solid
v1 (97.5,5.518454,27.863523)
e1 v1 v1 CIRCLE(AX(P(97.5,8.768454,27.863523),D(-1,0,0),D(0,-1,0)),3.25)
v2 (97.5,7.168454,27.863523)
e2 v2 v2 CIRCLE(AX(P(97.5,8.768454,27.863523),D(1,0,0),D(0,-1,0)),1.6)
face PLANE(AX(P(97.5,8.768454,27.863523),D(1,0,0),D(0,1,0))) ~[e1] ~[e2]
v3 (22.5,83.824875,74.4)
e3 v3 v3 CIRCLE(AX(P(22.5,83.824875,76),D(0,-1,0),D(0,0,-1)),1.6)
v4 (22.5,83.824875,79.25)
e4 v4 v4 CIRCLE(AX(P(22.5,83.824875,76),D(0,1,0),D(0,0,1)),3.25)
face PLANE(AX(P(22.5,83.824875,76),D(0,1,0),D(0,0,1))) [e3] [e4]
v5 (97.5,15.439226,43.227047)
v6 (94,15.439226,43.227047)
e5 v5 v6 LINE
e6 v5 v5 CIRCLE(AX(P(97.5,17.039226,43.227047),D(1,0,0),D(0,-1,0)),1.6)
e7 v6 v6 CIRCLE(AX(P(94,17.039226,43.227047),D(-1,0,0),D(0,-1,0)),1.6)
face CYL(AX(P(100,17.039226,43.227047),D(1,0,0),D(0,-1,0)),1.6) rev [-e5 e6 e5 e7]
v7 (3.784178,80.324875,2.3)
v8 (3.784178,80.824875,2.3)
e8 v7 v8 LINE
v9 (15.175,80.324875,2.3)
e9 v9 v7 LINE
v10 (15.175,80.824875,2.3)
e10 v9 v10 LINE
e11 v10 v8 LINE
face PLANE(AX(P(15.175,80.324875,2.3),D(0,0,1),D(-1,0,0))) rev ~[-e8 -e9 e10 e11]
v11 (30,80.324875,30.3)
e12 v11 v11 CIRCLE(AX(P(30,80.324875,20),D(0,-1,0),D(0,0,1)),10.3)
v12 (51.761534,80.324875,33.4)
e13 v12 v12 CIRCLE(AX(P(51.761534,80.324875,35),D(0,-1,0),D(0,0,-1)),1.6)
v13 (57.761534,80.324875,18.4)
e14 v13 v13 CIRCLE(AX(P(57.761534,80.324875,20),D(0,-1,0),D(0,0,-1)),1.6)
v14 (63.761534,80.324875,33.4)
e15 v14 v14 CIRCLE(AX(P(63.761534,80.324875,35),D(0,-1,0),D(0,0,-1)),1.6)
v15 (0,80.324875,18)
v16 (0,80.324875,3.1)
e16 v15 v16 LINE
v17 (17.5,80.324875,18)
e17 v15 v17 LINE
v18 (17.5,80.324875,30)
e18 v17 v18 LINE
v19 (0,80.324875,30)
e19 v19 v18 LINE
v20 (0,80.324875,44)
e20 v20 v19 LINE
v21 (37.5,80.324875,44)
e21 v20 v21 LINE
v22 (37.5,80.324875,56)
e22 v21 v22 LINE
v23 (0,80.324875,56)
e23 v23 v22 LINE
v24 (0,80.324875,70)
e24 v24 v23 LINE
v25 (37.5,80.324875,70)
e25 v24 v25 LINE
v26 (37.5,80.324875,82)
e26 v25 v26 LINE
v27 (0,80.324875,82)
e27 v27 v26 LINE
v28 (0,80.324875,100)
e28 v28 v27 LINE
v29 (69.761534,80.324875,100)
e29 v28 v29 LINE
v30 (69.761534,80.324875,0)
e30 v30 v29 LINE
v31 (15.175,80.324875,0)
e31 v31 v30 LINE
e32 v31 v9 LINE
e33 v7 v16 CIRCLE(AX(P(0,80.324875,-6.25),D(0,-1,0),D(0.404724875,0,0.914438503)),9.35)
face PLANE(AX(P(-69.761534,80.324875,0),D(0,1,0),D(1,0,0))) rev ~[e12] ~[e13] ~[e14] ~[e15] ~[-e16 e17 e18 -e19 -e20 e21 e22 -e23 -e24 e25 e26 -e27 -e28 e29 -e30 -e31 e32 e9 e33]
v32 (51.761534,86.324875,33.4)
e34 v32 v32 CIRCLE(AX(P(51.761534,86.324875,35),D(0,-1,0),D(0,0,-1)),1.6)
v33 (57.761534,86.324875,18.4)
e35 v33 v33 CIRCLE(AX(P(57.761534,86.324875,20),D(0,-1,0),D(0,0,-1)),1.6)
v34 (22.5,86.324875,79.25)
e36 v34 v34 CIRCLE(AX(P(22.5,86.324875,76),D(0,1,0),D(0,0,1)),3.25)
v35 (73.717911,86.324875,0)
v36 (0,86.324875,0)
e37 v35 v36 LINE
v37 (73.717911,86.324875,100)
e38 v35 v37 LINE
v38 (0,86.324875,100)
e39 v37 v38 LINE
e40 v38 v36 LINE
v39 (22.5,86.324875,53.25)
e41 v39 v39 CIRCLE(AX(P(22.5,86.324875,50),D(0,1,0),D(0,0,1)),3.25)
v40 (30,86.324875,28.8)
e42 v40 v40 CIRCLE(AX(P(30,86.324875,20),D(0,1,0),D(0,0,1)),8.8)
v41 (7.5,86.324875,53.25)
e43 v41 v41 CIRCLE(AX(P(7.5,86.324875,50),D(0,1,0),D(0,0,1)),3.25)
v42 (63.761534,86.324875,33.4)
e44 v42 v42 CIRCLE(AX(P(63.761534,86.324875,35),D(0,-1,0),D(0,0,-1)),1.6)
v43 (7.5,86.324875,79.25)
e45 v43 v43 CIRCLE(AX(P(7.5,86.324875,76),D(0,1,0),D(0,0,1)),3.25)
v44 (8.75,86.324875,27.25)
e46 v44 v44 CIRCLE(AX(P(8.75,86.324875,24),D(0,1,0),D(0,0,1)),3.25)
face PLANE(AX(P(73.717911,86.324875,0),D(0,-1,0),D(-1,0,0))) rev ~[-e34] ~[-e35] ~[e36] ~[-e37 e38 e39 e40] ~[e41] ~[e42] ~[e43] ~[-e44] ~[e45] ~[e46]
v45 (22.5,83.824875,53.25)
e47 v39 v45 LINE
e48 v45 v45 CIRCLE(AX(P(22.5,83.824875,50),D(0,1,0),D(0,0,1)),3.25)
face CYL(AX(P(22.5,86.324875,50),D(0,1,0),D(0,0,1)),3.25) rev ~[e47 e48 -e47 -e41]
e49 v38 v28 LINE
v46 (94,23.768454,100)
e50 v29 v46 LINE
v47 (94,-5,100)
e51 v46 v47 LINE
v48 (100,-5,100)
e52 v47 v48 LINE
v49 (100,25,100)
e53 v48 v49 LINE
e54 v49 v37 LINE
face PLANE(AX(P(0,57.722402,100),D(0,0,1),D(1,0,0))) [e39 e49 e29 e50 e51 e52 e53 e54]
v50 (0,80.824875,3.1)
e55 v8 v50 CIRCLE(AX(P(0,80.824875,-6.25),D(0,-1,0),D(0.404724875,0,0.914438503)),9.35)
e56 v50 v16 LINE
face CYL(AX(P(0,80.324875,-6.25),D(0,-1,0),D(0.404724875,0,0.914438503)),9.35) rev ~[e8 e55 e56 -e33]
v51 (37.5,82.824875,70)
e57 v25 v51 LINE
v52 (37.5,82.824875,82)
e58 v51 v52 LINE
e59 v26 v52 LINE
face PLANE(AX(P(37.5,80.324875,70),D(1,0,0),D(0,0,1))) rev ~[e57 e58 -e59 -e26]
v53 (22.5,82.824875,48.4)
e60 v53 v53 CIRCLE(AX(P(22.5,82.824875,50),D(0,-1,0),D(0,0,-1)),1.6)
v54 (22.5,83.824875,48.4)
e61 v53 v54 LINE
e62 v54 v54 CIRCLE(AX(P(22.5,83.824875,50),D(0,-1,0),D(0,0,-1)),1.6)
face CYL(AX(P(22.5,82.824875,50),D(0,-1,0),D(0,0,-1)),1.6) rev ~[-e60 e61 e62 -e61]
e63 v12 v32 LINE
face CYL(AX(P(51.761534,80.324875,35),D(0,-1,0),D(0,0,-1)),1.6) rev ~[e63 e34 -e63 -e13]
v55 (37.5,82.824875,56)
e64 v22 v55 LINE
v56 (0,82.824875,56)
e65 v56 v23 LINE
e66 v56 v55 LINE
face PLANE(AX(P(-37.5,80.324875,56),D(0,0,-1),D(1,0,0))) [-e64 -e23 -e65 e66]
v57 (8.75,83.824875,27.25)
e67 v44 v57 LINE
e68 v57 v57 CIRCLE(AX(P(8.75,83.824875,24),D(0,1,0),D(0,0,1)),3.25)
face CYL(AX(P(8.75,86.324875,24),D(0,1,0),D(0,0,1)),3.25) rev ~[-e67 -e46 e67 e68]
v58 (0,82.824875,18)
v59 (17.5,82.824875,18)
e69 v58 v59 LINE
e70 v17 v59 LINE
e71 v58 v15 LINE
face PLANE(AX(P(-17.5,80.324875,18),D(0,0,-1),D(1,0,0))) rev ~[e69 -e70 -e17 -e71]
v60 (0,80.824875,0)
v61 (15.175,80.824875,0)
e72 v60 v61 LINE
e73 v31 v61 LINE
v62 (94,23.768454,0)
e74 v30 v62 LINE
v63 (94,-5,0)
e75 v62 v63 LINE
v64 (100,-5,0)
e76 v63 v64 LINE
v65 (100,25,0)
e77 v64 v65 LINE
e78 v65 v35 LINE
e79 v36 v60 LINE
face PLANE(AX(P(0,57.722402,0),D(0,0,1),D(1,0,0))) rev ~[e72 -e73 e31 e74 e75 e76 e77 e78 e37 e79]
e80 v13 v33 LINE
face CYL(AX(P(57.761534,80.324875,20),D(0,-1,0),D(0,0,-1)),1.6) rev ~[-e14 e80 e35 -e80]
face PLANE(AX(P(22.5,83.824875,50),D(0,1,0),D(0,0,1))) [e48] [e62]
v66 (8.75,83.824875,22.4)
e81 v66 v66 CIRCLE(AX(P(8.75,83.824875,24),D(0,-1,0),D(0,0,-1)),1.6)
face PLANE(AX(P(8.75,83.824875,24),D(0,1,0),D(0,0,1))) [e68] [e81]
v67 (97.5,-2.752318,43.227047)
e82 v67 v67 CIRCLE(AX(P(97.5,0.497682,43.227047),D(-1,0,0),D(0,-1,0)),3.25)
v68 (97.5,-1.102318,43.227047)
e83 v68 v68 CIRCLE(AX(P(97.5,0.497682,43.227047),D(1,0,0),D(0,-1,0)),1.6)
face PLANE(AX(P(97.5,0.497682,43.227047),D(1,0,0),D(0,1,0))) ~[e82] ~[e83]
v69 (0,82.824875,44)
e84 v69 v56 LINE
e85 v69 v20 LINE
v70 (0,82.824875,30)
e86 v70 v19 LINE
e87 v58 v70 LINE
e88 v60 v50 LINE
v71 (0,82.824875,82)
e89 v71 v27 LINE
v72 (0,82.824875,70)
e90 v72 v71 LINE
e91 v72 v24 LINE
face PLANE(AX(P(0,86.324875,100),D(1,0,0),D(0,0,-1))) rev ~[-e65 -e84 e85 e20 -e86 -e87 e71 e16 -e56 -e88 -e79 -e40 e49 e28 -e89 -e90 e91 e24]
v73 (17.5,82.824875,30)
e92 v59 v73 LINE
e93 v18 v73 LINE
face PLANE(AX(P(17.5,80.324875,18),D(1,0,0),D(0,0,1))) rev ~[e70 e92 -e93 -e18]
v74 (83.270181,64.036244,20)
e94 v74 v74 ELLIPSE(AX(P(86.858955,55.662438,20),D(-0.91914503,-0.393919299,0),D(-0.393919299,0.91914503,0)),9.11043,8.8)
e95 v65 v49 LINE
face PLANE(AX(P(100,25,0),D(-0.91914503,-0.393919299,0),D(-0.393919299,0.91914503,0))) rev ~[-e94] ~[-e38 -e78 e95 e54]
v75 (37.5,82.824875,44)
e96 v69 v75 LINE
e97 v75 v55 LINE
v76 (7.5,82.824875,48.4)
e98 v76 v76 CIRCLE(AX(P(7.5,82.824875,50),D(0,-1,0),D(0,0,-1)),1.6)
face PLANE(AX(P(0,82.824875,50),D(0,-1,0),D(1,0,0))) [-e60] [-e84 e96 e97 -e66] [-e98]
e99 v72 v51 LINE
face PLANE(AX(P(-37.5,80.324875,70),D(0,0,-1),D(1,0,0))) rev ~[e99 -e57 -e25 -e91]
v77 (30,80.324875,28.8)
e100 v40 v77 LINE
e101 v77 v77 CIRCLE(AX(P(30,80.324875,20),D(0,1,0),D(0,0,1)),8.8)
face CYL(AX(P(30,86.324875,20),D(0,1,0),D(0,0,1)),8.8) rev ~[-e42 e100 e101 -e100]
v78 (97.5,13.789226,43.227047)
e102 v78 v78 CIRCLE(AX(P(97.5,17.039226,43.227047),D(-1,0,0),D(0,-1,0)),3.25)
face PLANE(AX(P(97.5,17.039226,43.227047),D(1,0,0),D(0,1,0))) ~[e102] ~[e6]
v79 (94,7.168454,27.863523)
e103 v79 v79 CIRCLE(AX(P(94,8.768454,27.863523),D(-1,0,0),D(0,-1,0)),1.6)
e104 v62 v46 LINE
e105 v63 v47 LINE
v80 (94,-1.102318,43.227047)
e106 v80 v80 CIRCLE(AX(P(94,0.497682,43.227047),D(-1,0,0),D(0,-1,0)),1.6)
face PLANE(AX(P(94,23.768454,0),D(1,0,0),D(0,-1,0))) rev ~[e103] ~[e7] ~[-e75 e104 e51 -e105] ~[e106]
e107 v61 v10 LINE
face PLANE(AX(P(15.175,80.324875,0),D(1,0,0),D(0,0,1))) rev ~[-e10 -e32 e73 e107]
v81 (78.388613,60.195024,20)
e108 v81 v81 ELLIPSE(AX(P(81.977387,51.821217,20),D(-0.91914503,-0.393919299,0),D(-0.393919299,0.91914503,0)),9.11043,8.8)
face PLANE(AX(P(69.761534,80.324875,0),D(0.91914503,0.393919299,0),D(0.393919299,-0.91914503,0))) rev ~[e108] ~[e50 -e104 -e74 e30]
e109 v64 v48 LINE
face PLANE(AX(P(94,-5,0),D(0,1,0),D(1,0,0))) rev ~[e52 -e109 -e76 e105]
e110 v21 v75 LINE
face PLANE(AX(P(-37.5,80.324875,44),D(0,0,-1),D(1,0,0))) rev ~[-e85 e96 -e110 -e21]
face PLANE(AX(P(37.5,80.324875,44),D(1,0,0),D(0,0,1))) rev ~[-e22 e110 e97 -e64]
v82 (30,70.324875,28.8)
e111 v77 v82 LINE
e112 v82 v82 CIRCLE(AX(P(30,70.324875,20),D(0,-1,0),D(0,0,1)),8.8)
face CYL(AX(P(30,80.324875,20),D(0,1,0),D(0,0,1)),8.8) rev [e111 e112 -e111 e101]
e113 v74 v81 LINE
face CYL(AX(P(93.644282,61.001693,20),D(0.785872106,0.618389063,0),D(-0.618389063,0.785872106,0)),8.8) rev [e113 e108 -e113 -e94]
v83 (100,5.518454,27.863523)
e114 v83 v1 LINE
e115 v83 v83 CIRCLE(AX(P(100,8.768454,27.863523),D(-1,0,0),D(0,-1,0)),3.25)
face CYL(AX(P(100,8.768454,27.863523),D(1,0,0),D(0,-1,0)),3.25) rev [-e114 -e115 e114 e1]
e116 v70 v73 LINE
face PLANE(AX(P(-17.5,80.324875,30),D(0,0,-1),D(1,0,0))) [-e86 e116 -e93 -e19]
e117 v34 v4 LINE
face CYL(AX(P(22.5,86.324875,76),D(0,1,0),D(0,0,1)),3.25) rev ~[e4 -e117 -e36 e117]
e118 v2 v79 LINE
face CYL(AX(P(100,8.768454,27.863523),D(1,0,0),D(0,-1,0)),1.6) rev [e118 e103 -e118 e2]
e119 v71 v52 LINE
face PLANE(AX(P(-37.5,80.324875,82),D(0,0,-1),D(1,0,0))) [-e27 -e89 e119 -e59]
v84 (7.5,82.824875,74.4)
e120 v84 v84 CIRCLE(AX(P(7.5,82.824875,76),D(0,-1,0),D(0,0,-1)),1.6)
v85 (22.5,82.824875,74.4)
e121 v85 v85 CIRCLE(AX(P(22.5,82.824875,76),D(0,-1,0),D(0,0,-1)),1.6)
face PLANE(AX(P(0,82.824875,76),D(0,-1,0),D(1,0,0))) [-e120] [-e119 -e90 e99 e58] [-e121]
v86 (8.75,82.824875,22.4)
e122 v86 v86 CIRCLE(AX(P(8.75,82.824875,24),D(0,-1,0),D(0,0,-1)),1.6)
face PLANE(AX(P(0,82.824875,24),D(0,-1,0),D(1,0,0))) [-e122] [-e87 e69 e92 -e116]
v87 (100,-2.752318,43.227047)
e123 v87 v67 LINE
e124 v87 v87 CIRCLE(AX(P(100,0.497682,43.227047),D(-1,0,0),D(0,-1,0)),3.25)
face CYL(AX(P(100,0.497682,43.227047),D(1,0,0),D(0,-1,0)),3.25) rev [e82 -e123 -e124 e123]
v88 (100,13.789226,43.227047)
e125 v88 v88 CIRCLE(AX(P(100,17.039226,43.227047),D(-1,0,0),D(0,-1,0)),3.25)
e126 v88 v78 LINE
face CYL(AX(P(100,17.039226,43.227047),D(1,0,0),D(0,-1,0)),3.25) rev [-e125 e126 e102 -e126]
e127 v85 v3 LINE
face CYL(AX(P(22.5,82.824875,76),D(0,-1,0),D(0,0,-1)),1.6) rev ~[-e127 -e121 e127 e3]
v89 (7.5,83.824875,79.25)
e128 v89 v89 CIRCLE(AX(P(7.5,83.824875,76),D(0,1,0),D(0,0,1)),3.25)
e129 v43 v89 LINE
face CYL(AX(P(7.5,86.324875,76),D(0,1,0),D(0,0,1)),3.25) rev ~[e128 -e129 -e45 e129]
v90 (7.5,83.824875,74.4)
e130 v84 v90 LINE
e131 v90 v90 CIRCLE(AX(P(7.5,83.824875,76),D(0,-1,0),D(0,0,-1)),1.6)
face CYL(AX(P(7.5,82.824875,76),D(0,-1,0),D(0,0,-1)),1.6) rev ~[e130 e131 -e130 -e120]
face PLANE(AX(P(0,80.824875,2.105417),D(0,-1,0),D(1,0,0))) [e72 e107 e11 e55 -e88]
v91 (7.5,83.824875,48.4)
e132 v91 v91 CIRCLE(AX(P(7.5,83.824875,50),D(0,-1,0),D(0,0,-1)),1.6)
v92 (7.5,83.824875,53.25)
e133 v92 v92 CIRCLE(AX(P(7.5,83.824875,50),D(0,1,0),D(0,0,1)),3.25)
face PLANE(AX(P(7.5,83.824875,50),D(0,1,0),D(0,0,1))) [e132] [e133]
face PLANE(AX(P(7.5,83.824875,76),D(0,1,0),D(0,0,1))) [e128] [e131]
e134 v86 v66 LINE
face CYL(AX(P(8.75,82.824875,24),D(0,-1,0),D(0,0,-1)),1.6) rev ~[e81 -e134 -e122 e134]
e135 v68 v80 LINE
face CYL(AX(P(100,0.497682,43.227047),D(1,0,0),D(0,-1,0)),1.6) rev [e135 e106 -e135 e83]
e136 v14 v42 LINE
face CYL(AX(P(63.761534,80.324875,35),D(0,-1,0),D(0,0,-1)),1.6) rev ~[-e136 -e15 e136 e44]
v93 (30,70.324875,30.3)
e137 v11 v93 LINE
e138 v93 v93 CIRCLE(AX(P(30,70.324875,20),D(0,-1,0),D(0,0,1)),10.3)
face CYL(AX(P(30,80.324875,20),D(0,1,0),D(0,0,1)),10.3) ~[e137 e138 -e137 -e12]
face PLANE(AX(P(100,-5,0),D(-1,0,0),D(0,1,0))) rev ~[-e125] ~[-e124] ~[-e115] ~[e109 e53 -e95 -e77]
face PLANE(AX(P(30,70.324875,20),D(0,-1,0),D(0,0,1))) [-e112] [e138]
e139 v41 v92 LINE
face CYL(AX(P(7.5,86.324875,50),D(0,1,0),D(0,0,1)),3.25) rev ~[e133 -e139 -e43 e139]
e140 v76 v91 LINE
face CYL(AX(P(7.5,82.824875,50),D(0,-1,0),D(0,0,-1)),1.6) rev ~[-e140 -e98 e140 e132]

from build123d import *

# Parameters (mm, degrees)
SALIENTE_EXTRUIR1_DEPTH = 100
CORTAR_EXTRUIR1_REACH   = 170.346
CROQUIS3_R              = 8.8
CORTAR_EXTRUIR2_REACH   = 226.945
CROQUIS4_R              = 8.8
CORTAR_EXTRUIR3_DEPTH   = 0.5
CORTAR_EXTRUIR4_REACH   = 241.691
CROQUIS6_R              = 1.6
CROQUIS7_R              = 3.25
CORTAR_EXTRUIR5_DEPTH   = 2.5
CROQUIS8_W              = 75
CROQUIS8_H              = 12
CROQUIS8_W_2            = 35
CORTAR_EXTRUIR6_DEPTH   = 2.5
CORTAR_EXTRUIR7_REACH   = 168.473
CROQUIS9_R              = 1.6
CROQUIS10_R             = 3.25
CORTAR_EXTRUIR8_DEPTH   = 2.5
CROQUIS11_R             = 10.3
CROQUIS11_R_2           = 8.8
SALIENTE_EXTRUIR2_DEPTH = 10
SALIENTE_EXTRUIR3_REACH = 201.802
CROQUIS12_R             = 10.3
CROQUIS12_R_2           = 8.8
CORTAR_EXTRUIR9_REACH   = 167.168
CROQUIS13_R             = 1.6
CROQUIS14_W             = 100
CROQUIS14_H             = 100
CORTAR_EXTRUIR10_DEPTH  = 169.345575526


with BuildPart() as part:
    # Croquis1 → Saliente-Extruir1 (new body)
    with BuildSketch(Plane.XY):
        Polygon((-100, 25), (-100, -5), (-94, -5), (-94, 23.768453788), (-69.761533754, 80.324875029), (69.761533754, 80.324875029), (94, 23.768453788), (94, -5), (100, -5), (100, 25), (73.717910702, 86.324875029), (-73.717910702, 86.324875029), align=None)
    extrude(amount=SALIENTE_EXTRUIR1_DEPTH)

    # Croquis3 → Cortar-Extruir1 (cut, up to next)
    with BuildSketch(Plane(origin=(0, 86.324875029, 0), x_dir=(1, 0, 0), z_dir=(0, 1, 0)), mode=Mode.PRIVATE) as cortar_extruir1_sk1:
        with Locations(Location((-30, -20, 0), (0, 0, 270))):
            Circle(CROQUIS3_R)
    cortar_extruir1_tool1 = extrude(cortar_extruir1_sk1.sketch, amount=-CORTAR_EXTRUIR1_REACH, mode=Mode.PRIVATE) & part.part
    # Croquis3 → Cortar-Extruir1 (cut, up to next)
    with BuildSketch(Plane(origin=(0, 86.324875029, 0), x_dir=(1, 0, 0), z_dir=(0, 1, 0)), mode=Mode.PRIVATE) as cortar_extruir1_sk2:
        with Locations(Location((30, -20, 0), (0, 0, 270))):
            Circle(CROQUIS3_R)
    cortar_extruir1_tool2 = extrude(cortar_extruir1_sk2.sketch, amount=-CORTAR_EXTRUIR1_REACH, mode=Mode.PRIVATE) & part.part
    add(cortar_extruir1_tool1.solids().sort_by_distance((-30, 86.324875, 20))[0], mode=Mode.SUBTRACT)
    add(cortar_extruir1_tool2.solids().sort_by_distance((30, 86.324875, 20))[0], mode=Mode.SUBTRACT)

    # Cortar-Extruir2: up to this plane
    cortar_extruir2_end = Plane(origin=(-94, 23.768453788, 100), z_dir=(-0.9191450300180581, 0.3939192985791672, 0))
    # Croquis4 → Cortar-Extruir2 (cut, up to the surface)
    with BuildSketch(Plane(origin=(-87.479517168, 68.836107355, 0), x_dir=(0, 0, -1), z_dir=(-0.7858721058939679, 0.6183890629512945, 0)), mode=Mode.PRIVATE) as cortar_extruir2_sk1:
        with Locations(Location((-20, 9.96907102, 0), (0, 0, 270))):
            Circle(CROQUIS4_R)
    cortar_extruir2_tool1 = split(extrude(cortar_extruir2_sk1.sketch, amount=-CORTAR_EXTRUIR2_REACH, mode=Mode.PRIVATE), bisect_by=cortar_extruir2_end, keep=Keep.BOTH, mode=Mode.PRIVATE)
    cortar_extruir2 = cortar_extruir2_tool1.solids().sort_by_distance((-93.644282, 61.001693, 20))[0]
    add(cortar_extruir2, mode=Mode.SUBTRACT)

    # Simetría1: Cortar-Extruir2 across plane
    add(cortar_extruir2.mirror(Plane(origin=(0, 0, 0), x_dir=(0, 0, 1), z_dir=(1, 0, 0))), mode=Mode.SUBTRACT)

    # Croquis5 → Cortar-Extruir3 (cut)
    with BuildSketch(Plane.XZ.offset(-80.324875029)):
        with BuildLine():
            Line((14.875, 0), (15.175, 0))
            Line((15.175, 0), (15.175, 2.3))
            Line((15.175, 2.3), (3.784177586, 2.3))
            ThreePointArc((3.784177586, 2.3), (0, 3.1), (-3.784177586, 2.3))
            Line((-3.784177586, 2.3), (-15.175, 2.3))
            Line((-15.175, 2.3), (-15.175, 0))
            Line((-15.175, 0), (-14.875, 0))
            Line((-14.875, 0), (-14.875, 2))
            Line((-14.875, 2), (-3.720215048, 2))
            ThreePointArc((-3.720215048, 2), (0, 2.8), (3.720215048, 2))
            Line((3.720215048, 2), (14.875, 2))
            Line((14.875, 2), (14.875, 0))
        make_face()
        with BuildLine():
            Line((3.261901286, 0), (14.875, 0))
            Line((14.875, 0), (14.875, 2))
            Line((14.875, 2), (3.720215048, 2))
            ThreePointArc((3.720215048, 2), (0, 2.8), (-3.720215048, 2))
            Line((-3.720215048, 2), (-14.875, 2))
            Line((-14.875, 2), (-14.875, 0))
            Line((-14.875, 0), (-3.261901286, 0))
            ThreePointArc((-3.261901286, 0), (0, 0.8), (3.261901286, 0))
        make_face()
        with BuildLine():
            Line((-3.261901286, 0), (3.261901286, 0))
            ThreePointArc((3.261901286, 0), (0, 0.8), (-3.261901286, 0))
        make_face()
    extrude(amount=-CORTAR_EXTRUIR3_DEPTH, mode=Mode.SUBTRACT)

    # Croquis6 → Cortar-Extruir4 (cut, up to next)
    with BuildSketch(Plane.ZY.offset(100), mode=Mode.PRIVATE) as cortar_extruir4_sk1:
        with Locations(Location((43.227046774, 0.497681725, 0), (0, 0, 270))):
            Circle(CROQUIS6_R)
    cortar_extruir4_tool1 = extrude(cortar_extruir4_sk1.sketch, amount=-CORTAR_EXTRUIR4_REACH, mode=Mode.PRIVATE) & part.part
    # Croquis6 → Cortar-Extruir4 (cut, up to next)
    with BuildSketch(Plane.ZY.offset(100), mode=Mode.PRIVATE) as cortar_extruir4_sk2:
        with Locations(Location((27.863523387, 8.768453788, 0), (0, 0, 270))):
            Circle(CROQUIS6_R)
    cortar_extruir4_tool2 = extrude(cortar_extruir4_sk2.sketch, amount=-CORTAR_EXTRUIR4_REACH, mode=Mode.PRIVATE) & part.part
    # Croquis6 → Cortar-Extruir4 (cut, up to next)
    with BuildSketch(Plane.ZY.offset(100), mode=Mode.PRIVATE) as cortar_extruir4_sk3:
        with Locations(Location((43.227046774, 17.039225851, 0), (0, 0, 270))):
            Circle(CROQUIS6_R)
    cortar_extruir4_tool3 = extrude(cortar_extruir4_sk3.sketch, amount=-CORTAR_EXTRUIR4_REACH, mode=Mode.PRIVATE) & part.part
    cortar_extruir4_1 = cortar_extruir4_tool1.solids().sort_by_distance((-100, 0.497682, 43.227047))[0]
    add(cortar_extruir4_1, mode=Mode.SUBTRACT)
    cortar_extruir4_2 = cortar_extruir4_tool2.solids().sort_by_distance((-100, 8.768454, 27.863523))[0]
    add(cortar_extruir4_2, mode=Mode.SUBTRACT)
    cortar_extruir4_3 = cortar_extruir4_tool3.solids().sort_by_distance((-100, 17.039226, 43.227047))[0]
    add(cortar_extruir4_3, mode=Mode.SUBTRACT)
    cortar_extruir4 = cortar_extruir4_1 + cortar_extruir4_2 + cortar_extruir4_3  # Cortar-Extruir4 as one shape, for the pattern or mirror that repeats it

    # Croquis7 → Cortar-Extruir5 (cut)
    with BuildSketch(Plane.ZY.offset(100)):
        with Locations(Location((27.863523387, 8.768453788, 0), (0, 0, 270))):
            Circle(CROQUIS7_R)
        with Locations(Location((43.227046774, 0.497681725, 0), (0, 0, 270))):
            Circle(CROQUIS7_R)
        with Locations(Location((43.227046774, 17.039225851, 0), (0, 0, 270))):
            Circle(CROQUIS7_R)
    cortar_extruir5 = extrude(amount=-CORTAR_EXTRUIR5_DEPTH, mode=Mode.SUBTRACT)

    # Simetría2: Cortar-Extruir4, Cortar-Extruir5 across plane
    add(cortar_extruir4.mirror(Plane(origin=(0, 0, 0), x_dir=(0, 0, 1), z_dir=(1, 0, 0))), mode=Mode.SUBTRACT)
    add(cortar_extruir5.mirror(Plane(origin=(0, 0, 0), x_dir=(0, 0, 1), z_dir=(1, 0, 0))), mode=Mode.SUBTRACT)

    # Croquis8 → Cortar-Extruir6 (cut)
    with BuildSketch(Plane.XZ.offset(-80.324875029)):
        with Locations((0, 76)):
            Rectangle(CROQUIS8_W, CROQUIS8_H)
        with Locations((0, 50)):
            Rectangle(CROQUIS8_W, CROQUIS8_H)
        with Locations((0, 24)):
            Rectangle(CROQUIS8_W_2, CROQUIS8_H)
    extrude(amount=-CORTAR_EXTRUIR6_DEPTH, mode=Mode.SUBTRACT)

    # Croquis9 → Cortar-Extruir7 (cut, up to next)
    with BuildSketch(Plane.XZ.offset(-82.824875029), mode=Mode.PRIVATE) as cortar_extruir7_sk1:
        with Locations(Location((-22.5, 76, 0), (0, 0, 270))):
            Circle(CROQUIS9_R)
    cortar_extruir7_tool1 = extrude(cortar_extruir7_sk1.sketch, amount=-CORTAR_EXTRUIR7_REACH, mode=Mode.PRIVATE) & part.part
    # Croquis9 → Cortar-Extruir7 (cut, up to next)
    with BuildSketch(Plane.XZ.offset(-82.824875029), mode=Mode.PRIVATE) as cortar_extruir7_sk2:
        with Locations(Location((-7.5, 76, 0), (0, 0, 270))):
            Circle(CROQUIS9_R)
    cortar_extruir7_tool2 = extrude(cortar_extruir7_sk2.sketch, amount=-CORTAR_EXTRUIR7_REACH, mode=Mode.PRIVATE) & part.part
    # Croquis9 → Cortar-Extruir7 (cut, up to next)
    with BuildSketch(Plane.XZ.offset(-82.824875029), mode=Mode.PRIVATE) as cortar_extruir7_sk3:
        with Locations(Location((7.5, 76, 0), (0, 0, 270))):
            Circle(CROQUIS9_R)
    cortar_extruir7_tool3 = extrude(cortar_extruir7_sk3.sketch, amount=-CORTAR_EXTRUIR7_REACH, mode=Mode.PRIVATE) & part.part
    # Croquis9 → Cortar-Extruir7 (cut, up to next)
    with BuildSketch(Plane.XZ.offset(-82.824875029), mode=Mode.PRIVATE) as cortar_extruir7_sk4:
        with Locations(Location((22.5, 76, 0), (0, 0, 270))):
            Circle(CROQUIS9_R)
    cortar_extruir7_tool4 = extrude(cortar_extruir7_sk4.sketch, amount=-CORTAR_EXTRUIR7_REACH, mode=Mode.PRIVATE) & part.part
    # Croquis9 → Cortar-Extruir7 (cut, up to next)
    with BuildSketch(Plane.XZ.offset(-82.824875029), mode=Mode.PRIVATE) as cortar_extruir7_sk5:
        with Locations(Location((-22.5, 50, 0), (0, 0, 270))):
            Circle(CROQUIS9_R)
    cortar_extruir7_tool5 = extrude(cortar_extruir7_sk5.sketch, amount=-CORTAR_EXTRUIR7_REACH, mode=Mode.PRIVATE) & part.part
    # Croquis9 → Cortar-Extruir7 (cut, up to next)
    with BuildSketch(Plane.XZ.offset(-82.824875029), mode=Mode.PRIVATE) as cortar_extruir7_sk6:
        with Locations(Location((-7.5, 50, 0), (0, 0, 270))):
            Circle(CROQUIS9_R)
    cortar_extruir7_tool6 = extrude(cortar_extruir7_sk6.sketch, amount=-CORTAR_EXTRUIR7_REACH, mode=Mode.PRIVATE) & part.part
    # Croquis9 → Cortar-Extruir7 (cut, up to next)
    with BuildSketch(Plane.XZ.offset(-82.824875029), mode=Mode.PRIVATE) as cortar_extruir7_sk7:
        with Locations(Location((7.5, 50, 0), (0, 0, 270))):
            Circle(CROQUIS9_R)
    cortar_extruir7_tool7 = extrude(cortar_extruir7_sk7.sketch, amount=-CORTAR_EXTRUIR7_REACH, mode=Mode.PRIVATE) & part.part
    # Croquis9 → Cortar-Extruir7 (cut, up to next)
    with BuildSketch(Plane.XZ.offset(-82.824875029), mode=Mode.PRIVATE) as cortar_extruir7_sk8:
        with Locations(Location((22.5, 50, 0), (0, 0, 270))):
            Circle(CROQUIS9_R)
    cortar_extruir7_tool8 = extrude(cortar_extruir7_sk8.sketch, amount=-CORTAR_EXTRUIR7_REACH, mode=Mode.PRIVATE) & part.part
    # Croquis9 → Cortar-Extruir7 (cut, up to next)
    with BuildSketch(Plane.XZ.offset(-82.824875029), mode=Mode.PRIVATE) as cortar_extruir7_sk9:
        with Locations(Location((-8.75, 24, 0), (0, 0, 270))):
            Circle(CROQUIS9_R)
    cortar_extruir7_tool9 = extrude(cortar_extruir7_sk9.sketch, amount=-CORTAR_EXTRUIR7_REACH, mode=Mode.PRIVATE) & part.part
    # Croquis9 → Cortar-Extruir7 (cut, up to next)
    with BuildSketch(Plane.XZ.offset(-82.824875029), mode=Mode.PRIVATE) as cortar_extruir7_sk10:
        with Locations(Location((8.75, 24, 0), (0, 0, 270))):
            Circle(CROQUIS9_R)
    cortar_extruir7_tool10 = extrude(cortar_extruir7_sk10.sketch, amount=-CORTAR_EXTRUIR7_REACH, mode=Mode.PRIVATE) & part.part
    add(cortar_extruir7_tool1.solids().sort_by_distance((-22.5, 82.824875, 76))[0], mode=Mode.SUBTRACT)
    add(cortar_extruir7_tool2.solids().sort_by_distance((-7.5, 82.824875, 76))[0], mode=Mode.SUBTRACT)
    add(cortar_extruir7_tool3.solids().sort_by_distance((7.5, 82.824875, 76))[0], mode=Mode.SUBTRACT)
    add(cortar_extruir7_tool4.solids().sort_by_distance((22.5, 82.824875, 76))[0], mode=Mode.SUBTRACT)
    add(cortar_extruir7_tool5.solids().sort_by_distance((-22.5, 82.824875, 50))[0], mode=Mode.SUBTRACT)
    add(cortar_extruir7_tool6.solids().sort_by_distance((-7.5, 82.824875, 50))[0], mode=Mode.SUBTRACT)
    add(cortar_extruir7_tool7.solids().sort_by_distance((7.5, 82.824875, 50))[0], mode=Mode.SUBTRACT)
    add(cortar_extruir7_tool8.solids().sort_by_distance((22.5, 82.824875, 50))[0], mode=Mode.SUBTRACT)
    add(cortar_extruir7_tool9.solids().sort_by_distance((-8.75, 82.824875, 24))[0], mode=Mode.SUBTRACT)
    add(cortar_extruir7_tool10.solids().sort_by_distance((8.75, 82.824875, 24))[0], mode=Mode.SUBTRACT)

    # Croquis10 → Cortar-Extruir8 (cut)
    with BuildSketch(Plane(origin=(0, 86.324875029, 0), x_dir=(1, 0, 0), z_dir=(0, 1, 0))):
        with Locations(Location((-22.5, -50, 0), (0, 0, 270))):
            Circle(CROQUIS10_R)
        with Locations(Location((-7.5, -50, 0), (0, 0, 270))):
            Circle(CROQUIS10_R)
        with Locations(Location((7.5, -50, 0), (0, 0, 270))):
            Circle(CROQUIS10_R)
        with Locations(Location((22.5, -50, 0), (0, 0, 270))):
            Circle(CROQUIS10_R)
        with Locations(Location((8.75, -24, 0), (0, 0, 270))):
            Circle(CROQUIS10_R)
        with Locations(Location((-8.75, -24, 0), (0, 0, 270))):
            Circle(CROQUIS10_R)
        with Locations(Location((22.5, -76, 0), (0, 0, 270))):
            Circle(CROQUIS10_R)
        with Locations(Location((7.5, -76, 0), (0, 0, 270))):
            Circle(CROQUIS10_R)
        with Locations(Location((-7.5, -76, 0), (0, 0, 270))):
            Circle(CROQUIS10_R)
        with Locations(Location((-22.5, -76, 0), (0, 0, 270))):
            Circle(CROQUIS10_R)
    extrude(amount=-CORTAR_EXTRUIR8_DEPTH, mode=Mode.SUBTRACT)

    # Croquis11 → Saliente-Extruir2 (add)
    with BuildSketch(Plane.XZ.offset(-80.324875029)):
        with Locations(Location((-30, 20, 0), (0, 0, 90))):
            Circle(CROQUIS11_R)
        with Locations(Location((-30, 20, 0), (0, 0, 90))):
            Circle(CROQUIS11_R_2, mode=Mode.SUBTRACT)
        with Locations(Location((30, 20, 0), (0, 0, 90))):
            Circle(CROQUIS11_R)
        with Locations(Location((30, 20, 0), (0, 0, 90))):
            Circle(CROQUIS11_R_2, mode=Mode.SUBTRACT)
    extrude(amount=SALIENTE_EXTRUIR2_DEPTH)

    # Saliente-Extruir3: up to this plane
    saliente_extruir3_end = Plane(origin=(-94, 23.768453788, 100), z_dir=(-0.9191450300180581, 0.3939192985791672, 0))
    # Croquis12 → Saliente-Extruir3 (add, up to the surface)
    with BuildSketch(Plane(origin=(-63.903353991, 50.284435467, 0), x_dir=(0, 0, -1), z_dir=(-0.7858721058939679, 0.6183890629512945, 0)), mode=Mode.PRIVATE) as saliente_extruir3_sk1:
        with Locations(Location((-20, 9.96907102, 0), (0, 0, 90))):
            Circle(CROQUIS12_R)
        with Locations(Location((-20, 9.96907102, 0), (0, 0, 90))):
            Circle(CROQUIS12_R_2, mode=Mode.SUBTRACT)
    saliente_extruir3_tool1 = split(extrude(saliente_extruir3_sk1.sketch, amount=SALIENTE_EXTRUIR3_REACH, mode=Mode.PRIVATE), bisect_by=saliente_extruir3_end, keep=Keep.BOTH, mode=Mode.PRIVATE)
    add(saliente_extruir3_tool1.solids().sort_by_distance((-63.878865, 50.315557, 20))[0])

    # Croquis13 → Cortar-Extruir9 (cut, up to next)
    with BuildSketch(Plane.XZ.offset(-80.324875029), mode=Mode.PRIVATE) as cortar_extruir9_sk1:
        with Locations(Location((57.761533754, 20, 0), (0, 0, 270))):
            Circle(CROQUIS13_R)
    cortar_extruir9_tool1 = extrude(cortar_extruir9_sk1.sketch, amount=-CORTAR_EXTRUIR9_REACH, mode=Mode.PRIVATE) & part.part
    # Croquis13 → Cortar-Extruir9 (cut, up to next)
    with BuildSketch(Plane.XZ.offset(-80.324875029), mode=Mode.PRIVATE) as cortar_extruir9_sk2:
        with Locations(Location((51.761533754, 35, 0), (0, 0, 270))):
            Circle(CROQUIS13_R)
    cortar_extruir9_tool2 = extrude(cortar_extruir9_sk2.sketch, amount=-CORTAR_EXTRUIR9_REACH, mode=Mode.PRIVATE) & part.part
    # Croquis13 → Cortar-Extruir9 (cut, up to next)
    with BuildSketch(Plane.XZ.offset(-80.324875029), mode=Mode.PRIVATE) as cortar_extruir9_sk3:
        with Locations(Location((63.761533754, 35, 0), (0, 0, 270))):
            Circle(CROQUIS13_R)
    cortar_extruir9_tool3 = extrude(cortar_extruir9_sk3.sketch, amount=-CORTAR_EXTRUIR9_REACH, mode=Mode.PRIVATE) & part.part
    # Croquis13 → Cortar-Extruir9 (cut, up to next)
    with BuildSketch(Plane.XZ.offset(-80.324875029), mode=Mode.PRIVATE) as cortar_extruir9_sk4:
        with Locations(Location((-57.761533754, 20, 0), (0, 0, 270))):
            Circle(CROQUIS13_R)
    cortar_extruir9_tool4 = extrude(cortar_extruir9_sk4.sketch, amount=-CORTAR_EXTRUIR9_REACH, mode=Mode.PRIVATE) & part.part
    # Croquis13 → Cortar-Extruir9 (cut, up to next)
    with BuildSketch(Plane.XZ.offset(-80.324875029), mode=Mode.PRIVATE) as cortar_extruir9_sk5:
        with Locations(Location((-63.761533754, 35, 0), (0, 0, 270))):
            Circle(CROQUIS13_R)
    cortar_extruir9_tool5 = extrude(cortar_extruir9_sk5.sketch, amount=-CORTAR_EXTRUIR9_REACH, mode=Mode.PRIVATE) & part.part
    # Croquis13 → Cortar-Extruir9 (cut, up to next)
    with BuildSketch(Plane.XZ.offset(-80.324875029), mode=Mode.PRIVATE) as cortar_extruir9_sk6:
        with Locations(Location((-51.761533754, 35, 0), (0, 0, 270))):
            Circle(CROQUIS13_R)
    cortar_extruir9_tool6 = extrude(cortar_extruir9_sk6.sketch, amount=-CORTAR_EXTRUIR9_REACH, mode=Mode.PRIVATE) & part.part
    add(cortar_extruir9_tool1.solids().sort_by_distance((57.761534, 80.324875, 20))[0], mode=Mode.SUBTRACT)
    add(cortar_extruir9_tool2.solids().sort_by_distance((51.761534, 80.324875, 35))[0], mode=Mode.SUBTRACT)
    add(cortar_extruir9_tool3.solids().sort_by_distance((63.761534, 80.324875, 35))[0], mode=Mode.SUBTRACT)
    add(cortar_extruir9_tool4.solids().sort_by_distance((-57.761534, 80.324875, 20))[0], mode=Mode.SUBTRACT)
    add(cortar_extruir9_tool5.solids().sort_by_distance((-63.761534, 80.324875, 35))[0], mode=Mode.SUBTRACT)
    add(cortar_extruir9_tool6.solids().sort_by_distance((-51.761534, 80.324875, 35))[0], mode=Mode.SUBTRACT)

    # Croquis14 → Cortar-Extruir10 (cut, through all)
    with BuildSketch(Plane(origin=(0, 86.324875029, 0), x_dir=(1, 0, 0), z_dir=(0, 1, 0))):
        with Locations((-50, -50)):
            Rectangle(CROQUIS14_W, CROQUIS14_H)
    extrude(amount=-CORTAR_EXTRUIR10_DEPTH, mode=Mode.SUBTRACT)


solid = part.part
